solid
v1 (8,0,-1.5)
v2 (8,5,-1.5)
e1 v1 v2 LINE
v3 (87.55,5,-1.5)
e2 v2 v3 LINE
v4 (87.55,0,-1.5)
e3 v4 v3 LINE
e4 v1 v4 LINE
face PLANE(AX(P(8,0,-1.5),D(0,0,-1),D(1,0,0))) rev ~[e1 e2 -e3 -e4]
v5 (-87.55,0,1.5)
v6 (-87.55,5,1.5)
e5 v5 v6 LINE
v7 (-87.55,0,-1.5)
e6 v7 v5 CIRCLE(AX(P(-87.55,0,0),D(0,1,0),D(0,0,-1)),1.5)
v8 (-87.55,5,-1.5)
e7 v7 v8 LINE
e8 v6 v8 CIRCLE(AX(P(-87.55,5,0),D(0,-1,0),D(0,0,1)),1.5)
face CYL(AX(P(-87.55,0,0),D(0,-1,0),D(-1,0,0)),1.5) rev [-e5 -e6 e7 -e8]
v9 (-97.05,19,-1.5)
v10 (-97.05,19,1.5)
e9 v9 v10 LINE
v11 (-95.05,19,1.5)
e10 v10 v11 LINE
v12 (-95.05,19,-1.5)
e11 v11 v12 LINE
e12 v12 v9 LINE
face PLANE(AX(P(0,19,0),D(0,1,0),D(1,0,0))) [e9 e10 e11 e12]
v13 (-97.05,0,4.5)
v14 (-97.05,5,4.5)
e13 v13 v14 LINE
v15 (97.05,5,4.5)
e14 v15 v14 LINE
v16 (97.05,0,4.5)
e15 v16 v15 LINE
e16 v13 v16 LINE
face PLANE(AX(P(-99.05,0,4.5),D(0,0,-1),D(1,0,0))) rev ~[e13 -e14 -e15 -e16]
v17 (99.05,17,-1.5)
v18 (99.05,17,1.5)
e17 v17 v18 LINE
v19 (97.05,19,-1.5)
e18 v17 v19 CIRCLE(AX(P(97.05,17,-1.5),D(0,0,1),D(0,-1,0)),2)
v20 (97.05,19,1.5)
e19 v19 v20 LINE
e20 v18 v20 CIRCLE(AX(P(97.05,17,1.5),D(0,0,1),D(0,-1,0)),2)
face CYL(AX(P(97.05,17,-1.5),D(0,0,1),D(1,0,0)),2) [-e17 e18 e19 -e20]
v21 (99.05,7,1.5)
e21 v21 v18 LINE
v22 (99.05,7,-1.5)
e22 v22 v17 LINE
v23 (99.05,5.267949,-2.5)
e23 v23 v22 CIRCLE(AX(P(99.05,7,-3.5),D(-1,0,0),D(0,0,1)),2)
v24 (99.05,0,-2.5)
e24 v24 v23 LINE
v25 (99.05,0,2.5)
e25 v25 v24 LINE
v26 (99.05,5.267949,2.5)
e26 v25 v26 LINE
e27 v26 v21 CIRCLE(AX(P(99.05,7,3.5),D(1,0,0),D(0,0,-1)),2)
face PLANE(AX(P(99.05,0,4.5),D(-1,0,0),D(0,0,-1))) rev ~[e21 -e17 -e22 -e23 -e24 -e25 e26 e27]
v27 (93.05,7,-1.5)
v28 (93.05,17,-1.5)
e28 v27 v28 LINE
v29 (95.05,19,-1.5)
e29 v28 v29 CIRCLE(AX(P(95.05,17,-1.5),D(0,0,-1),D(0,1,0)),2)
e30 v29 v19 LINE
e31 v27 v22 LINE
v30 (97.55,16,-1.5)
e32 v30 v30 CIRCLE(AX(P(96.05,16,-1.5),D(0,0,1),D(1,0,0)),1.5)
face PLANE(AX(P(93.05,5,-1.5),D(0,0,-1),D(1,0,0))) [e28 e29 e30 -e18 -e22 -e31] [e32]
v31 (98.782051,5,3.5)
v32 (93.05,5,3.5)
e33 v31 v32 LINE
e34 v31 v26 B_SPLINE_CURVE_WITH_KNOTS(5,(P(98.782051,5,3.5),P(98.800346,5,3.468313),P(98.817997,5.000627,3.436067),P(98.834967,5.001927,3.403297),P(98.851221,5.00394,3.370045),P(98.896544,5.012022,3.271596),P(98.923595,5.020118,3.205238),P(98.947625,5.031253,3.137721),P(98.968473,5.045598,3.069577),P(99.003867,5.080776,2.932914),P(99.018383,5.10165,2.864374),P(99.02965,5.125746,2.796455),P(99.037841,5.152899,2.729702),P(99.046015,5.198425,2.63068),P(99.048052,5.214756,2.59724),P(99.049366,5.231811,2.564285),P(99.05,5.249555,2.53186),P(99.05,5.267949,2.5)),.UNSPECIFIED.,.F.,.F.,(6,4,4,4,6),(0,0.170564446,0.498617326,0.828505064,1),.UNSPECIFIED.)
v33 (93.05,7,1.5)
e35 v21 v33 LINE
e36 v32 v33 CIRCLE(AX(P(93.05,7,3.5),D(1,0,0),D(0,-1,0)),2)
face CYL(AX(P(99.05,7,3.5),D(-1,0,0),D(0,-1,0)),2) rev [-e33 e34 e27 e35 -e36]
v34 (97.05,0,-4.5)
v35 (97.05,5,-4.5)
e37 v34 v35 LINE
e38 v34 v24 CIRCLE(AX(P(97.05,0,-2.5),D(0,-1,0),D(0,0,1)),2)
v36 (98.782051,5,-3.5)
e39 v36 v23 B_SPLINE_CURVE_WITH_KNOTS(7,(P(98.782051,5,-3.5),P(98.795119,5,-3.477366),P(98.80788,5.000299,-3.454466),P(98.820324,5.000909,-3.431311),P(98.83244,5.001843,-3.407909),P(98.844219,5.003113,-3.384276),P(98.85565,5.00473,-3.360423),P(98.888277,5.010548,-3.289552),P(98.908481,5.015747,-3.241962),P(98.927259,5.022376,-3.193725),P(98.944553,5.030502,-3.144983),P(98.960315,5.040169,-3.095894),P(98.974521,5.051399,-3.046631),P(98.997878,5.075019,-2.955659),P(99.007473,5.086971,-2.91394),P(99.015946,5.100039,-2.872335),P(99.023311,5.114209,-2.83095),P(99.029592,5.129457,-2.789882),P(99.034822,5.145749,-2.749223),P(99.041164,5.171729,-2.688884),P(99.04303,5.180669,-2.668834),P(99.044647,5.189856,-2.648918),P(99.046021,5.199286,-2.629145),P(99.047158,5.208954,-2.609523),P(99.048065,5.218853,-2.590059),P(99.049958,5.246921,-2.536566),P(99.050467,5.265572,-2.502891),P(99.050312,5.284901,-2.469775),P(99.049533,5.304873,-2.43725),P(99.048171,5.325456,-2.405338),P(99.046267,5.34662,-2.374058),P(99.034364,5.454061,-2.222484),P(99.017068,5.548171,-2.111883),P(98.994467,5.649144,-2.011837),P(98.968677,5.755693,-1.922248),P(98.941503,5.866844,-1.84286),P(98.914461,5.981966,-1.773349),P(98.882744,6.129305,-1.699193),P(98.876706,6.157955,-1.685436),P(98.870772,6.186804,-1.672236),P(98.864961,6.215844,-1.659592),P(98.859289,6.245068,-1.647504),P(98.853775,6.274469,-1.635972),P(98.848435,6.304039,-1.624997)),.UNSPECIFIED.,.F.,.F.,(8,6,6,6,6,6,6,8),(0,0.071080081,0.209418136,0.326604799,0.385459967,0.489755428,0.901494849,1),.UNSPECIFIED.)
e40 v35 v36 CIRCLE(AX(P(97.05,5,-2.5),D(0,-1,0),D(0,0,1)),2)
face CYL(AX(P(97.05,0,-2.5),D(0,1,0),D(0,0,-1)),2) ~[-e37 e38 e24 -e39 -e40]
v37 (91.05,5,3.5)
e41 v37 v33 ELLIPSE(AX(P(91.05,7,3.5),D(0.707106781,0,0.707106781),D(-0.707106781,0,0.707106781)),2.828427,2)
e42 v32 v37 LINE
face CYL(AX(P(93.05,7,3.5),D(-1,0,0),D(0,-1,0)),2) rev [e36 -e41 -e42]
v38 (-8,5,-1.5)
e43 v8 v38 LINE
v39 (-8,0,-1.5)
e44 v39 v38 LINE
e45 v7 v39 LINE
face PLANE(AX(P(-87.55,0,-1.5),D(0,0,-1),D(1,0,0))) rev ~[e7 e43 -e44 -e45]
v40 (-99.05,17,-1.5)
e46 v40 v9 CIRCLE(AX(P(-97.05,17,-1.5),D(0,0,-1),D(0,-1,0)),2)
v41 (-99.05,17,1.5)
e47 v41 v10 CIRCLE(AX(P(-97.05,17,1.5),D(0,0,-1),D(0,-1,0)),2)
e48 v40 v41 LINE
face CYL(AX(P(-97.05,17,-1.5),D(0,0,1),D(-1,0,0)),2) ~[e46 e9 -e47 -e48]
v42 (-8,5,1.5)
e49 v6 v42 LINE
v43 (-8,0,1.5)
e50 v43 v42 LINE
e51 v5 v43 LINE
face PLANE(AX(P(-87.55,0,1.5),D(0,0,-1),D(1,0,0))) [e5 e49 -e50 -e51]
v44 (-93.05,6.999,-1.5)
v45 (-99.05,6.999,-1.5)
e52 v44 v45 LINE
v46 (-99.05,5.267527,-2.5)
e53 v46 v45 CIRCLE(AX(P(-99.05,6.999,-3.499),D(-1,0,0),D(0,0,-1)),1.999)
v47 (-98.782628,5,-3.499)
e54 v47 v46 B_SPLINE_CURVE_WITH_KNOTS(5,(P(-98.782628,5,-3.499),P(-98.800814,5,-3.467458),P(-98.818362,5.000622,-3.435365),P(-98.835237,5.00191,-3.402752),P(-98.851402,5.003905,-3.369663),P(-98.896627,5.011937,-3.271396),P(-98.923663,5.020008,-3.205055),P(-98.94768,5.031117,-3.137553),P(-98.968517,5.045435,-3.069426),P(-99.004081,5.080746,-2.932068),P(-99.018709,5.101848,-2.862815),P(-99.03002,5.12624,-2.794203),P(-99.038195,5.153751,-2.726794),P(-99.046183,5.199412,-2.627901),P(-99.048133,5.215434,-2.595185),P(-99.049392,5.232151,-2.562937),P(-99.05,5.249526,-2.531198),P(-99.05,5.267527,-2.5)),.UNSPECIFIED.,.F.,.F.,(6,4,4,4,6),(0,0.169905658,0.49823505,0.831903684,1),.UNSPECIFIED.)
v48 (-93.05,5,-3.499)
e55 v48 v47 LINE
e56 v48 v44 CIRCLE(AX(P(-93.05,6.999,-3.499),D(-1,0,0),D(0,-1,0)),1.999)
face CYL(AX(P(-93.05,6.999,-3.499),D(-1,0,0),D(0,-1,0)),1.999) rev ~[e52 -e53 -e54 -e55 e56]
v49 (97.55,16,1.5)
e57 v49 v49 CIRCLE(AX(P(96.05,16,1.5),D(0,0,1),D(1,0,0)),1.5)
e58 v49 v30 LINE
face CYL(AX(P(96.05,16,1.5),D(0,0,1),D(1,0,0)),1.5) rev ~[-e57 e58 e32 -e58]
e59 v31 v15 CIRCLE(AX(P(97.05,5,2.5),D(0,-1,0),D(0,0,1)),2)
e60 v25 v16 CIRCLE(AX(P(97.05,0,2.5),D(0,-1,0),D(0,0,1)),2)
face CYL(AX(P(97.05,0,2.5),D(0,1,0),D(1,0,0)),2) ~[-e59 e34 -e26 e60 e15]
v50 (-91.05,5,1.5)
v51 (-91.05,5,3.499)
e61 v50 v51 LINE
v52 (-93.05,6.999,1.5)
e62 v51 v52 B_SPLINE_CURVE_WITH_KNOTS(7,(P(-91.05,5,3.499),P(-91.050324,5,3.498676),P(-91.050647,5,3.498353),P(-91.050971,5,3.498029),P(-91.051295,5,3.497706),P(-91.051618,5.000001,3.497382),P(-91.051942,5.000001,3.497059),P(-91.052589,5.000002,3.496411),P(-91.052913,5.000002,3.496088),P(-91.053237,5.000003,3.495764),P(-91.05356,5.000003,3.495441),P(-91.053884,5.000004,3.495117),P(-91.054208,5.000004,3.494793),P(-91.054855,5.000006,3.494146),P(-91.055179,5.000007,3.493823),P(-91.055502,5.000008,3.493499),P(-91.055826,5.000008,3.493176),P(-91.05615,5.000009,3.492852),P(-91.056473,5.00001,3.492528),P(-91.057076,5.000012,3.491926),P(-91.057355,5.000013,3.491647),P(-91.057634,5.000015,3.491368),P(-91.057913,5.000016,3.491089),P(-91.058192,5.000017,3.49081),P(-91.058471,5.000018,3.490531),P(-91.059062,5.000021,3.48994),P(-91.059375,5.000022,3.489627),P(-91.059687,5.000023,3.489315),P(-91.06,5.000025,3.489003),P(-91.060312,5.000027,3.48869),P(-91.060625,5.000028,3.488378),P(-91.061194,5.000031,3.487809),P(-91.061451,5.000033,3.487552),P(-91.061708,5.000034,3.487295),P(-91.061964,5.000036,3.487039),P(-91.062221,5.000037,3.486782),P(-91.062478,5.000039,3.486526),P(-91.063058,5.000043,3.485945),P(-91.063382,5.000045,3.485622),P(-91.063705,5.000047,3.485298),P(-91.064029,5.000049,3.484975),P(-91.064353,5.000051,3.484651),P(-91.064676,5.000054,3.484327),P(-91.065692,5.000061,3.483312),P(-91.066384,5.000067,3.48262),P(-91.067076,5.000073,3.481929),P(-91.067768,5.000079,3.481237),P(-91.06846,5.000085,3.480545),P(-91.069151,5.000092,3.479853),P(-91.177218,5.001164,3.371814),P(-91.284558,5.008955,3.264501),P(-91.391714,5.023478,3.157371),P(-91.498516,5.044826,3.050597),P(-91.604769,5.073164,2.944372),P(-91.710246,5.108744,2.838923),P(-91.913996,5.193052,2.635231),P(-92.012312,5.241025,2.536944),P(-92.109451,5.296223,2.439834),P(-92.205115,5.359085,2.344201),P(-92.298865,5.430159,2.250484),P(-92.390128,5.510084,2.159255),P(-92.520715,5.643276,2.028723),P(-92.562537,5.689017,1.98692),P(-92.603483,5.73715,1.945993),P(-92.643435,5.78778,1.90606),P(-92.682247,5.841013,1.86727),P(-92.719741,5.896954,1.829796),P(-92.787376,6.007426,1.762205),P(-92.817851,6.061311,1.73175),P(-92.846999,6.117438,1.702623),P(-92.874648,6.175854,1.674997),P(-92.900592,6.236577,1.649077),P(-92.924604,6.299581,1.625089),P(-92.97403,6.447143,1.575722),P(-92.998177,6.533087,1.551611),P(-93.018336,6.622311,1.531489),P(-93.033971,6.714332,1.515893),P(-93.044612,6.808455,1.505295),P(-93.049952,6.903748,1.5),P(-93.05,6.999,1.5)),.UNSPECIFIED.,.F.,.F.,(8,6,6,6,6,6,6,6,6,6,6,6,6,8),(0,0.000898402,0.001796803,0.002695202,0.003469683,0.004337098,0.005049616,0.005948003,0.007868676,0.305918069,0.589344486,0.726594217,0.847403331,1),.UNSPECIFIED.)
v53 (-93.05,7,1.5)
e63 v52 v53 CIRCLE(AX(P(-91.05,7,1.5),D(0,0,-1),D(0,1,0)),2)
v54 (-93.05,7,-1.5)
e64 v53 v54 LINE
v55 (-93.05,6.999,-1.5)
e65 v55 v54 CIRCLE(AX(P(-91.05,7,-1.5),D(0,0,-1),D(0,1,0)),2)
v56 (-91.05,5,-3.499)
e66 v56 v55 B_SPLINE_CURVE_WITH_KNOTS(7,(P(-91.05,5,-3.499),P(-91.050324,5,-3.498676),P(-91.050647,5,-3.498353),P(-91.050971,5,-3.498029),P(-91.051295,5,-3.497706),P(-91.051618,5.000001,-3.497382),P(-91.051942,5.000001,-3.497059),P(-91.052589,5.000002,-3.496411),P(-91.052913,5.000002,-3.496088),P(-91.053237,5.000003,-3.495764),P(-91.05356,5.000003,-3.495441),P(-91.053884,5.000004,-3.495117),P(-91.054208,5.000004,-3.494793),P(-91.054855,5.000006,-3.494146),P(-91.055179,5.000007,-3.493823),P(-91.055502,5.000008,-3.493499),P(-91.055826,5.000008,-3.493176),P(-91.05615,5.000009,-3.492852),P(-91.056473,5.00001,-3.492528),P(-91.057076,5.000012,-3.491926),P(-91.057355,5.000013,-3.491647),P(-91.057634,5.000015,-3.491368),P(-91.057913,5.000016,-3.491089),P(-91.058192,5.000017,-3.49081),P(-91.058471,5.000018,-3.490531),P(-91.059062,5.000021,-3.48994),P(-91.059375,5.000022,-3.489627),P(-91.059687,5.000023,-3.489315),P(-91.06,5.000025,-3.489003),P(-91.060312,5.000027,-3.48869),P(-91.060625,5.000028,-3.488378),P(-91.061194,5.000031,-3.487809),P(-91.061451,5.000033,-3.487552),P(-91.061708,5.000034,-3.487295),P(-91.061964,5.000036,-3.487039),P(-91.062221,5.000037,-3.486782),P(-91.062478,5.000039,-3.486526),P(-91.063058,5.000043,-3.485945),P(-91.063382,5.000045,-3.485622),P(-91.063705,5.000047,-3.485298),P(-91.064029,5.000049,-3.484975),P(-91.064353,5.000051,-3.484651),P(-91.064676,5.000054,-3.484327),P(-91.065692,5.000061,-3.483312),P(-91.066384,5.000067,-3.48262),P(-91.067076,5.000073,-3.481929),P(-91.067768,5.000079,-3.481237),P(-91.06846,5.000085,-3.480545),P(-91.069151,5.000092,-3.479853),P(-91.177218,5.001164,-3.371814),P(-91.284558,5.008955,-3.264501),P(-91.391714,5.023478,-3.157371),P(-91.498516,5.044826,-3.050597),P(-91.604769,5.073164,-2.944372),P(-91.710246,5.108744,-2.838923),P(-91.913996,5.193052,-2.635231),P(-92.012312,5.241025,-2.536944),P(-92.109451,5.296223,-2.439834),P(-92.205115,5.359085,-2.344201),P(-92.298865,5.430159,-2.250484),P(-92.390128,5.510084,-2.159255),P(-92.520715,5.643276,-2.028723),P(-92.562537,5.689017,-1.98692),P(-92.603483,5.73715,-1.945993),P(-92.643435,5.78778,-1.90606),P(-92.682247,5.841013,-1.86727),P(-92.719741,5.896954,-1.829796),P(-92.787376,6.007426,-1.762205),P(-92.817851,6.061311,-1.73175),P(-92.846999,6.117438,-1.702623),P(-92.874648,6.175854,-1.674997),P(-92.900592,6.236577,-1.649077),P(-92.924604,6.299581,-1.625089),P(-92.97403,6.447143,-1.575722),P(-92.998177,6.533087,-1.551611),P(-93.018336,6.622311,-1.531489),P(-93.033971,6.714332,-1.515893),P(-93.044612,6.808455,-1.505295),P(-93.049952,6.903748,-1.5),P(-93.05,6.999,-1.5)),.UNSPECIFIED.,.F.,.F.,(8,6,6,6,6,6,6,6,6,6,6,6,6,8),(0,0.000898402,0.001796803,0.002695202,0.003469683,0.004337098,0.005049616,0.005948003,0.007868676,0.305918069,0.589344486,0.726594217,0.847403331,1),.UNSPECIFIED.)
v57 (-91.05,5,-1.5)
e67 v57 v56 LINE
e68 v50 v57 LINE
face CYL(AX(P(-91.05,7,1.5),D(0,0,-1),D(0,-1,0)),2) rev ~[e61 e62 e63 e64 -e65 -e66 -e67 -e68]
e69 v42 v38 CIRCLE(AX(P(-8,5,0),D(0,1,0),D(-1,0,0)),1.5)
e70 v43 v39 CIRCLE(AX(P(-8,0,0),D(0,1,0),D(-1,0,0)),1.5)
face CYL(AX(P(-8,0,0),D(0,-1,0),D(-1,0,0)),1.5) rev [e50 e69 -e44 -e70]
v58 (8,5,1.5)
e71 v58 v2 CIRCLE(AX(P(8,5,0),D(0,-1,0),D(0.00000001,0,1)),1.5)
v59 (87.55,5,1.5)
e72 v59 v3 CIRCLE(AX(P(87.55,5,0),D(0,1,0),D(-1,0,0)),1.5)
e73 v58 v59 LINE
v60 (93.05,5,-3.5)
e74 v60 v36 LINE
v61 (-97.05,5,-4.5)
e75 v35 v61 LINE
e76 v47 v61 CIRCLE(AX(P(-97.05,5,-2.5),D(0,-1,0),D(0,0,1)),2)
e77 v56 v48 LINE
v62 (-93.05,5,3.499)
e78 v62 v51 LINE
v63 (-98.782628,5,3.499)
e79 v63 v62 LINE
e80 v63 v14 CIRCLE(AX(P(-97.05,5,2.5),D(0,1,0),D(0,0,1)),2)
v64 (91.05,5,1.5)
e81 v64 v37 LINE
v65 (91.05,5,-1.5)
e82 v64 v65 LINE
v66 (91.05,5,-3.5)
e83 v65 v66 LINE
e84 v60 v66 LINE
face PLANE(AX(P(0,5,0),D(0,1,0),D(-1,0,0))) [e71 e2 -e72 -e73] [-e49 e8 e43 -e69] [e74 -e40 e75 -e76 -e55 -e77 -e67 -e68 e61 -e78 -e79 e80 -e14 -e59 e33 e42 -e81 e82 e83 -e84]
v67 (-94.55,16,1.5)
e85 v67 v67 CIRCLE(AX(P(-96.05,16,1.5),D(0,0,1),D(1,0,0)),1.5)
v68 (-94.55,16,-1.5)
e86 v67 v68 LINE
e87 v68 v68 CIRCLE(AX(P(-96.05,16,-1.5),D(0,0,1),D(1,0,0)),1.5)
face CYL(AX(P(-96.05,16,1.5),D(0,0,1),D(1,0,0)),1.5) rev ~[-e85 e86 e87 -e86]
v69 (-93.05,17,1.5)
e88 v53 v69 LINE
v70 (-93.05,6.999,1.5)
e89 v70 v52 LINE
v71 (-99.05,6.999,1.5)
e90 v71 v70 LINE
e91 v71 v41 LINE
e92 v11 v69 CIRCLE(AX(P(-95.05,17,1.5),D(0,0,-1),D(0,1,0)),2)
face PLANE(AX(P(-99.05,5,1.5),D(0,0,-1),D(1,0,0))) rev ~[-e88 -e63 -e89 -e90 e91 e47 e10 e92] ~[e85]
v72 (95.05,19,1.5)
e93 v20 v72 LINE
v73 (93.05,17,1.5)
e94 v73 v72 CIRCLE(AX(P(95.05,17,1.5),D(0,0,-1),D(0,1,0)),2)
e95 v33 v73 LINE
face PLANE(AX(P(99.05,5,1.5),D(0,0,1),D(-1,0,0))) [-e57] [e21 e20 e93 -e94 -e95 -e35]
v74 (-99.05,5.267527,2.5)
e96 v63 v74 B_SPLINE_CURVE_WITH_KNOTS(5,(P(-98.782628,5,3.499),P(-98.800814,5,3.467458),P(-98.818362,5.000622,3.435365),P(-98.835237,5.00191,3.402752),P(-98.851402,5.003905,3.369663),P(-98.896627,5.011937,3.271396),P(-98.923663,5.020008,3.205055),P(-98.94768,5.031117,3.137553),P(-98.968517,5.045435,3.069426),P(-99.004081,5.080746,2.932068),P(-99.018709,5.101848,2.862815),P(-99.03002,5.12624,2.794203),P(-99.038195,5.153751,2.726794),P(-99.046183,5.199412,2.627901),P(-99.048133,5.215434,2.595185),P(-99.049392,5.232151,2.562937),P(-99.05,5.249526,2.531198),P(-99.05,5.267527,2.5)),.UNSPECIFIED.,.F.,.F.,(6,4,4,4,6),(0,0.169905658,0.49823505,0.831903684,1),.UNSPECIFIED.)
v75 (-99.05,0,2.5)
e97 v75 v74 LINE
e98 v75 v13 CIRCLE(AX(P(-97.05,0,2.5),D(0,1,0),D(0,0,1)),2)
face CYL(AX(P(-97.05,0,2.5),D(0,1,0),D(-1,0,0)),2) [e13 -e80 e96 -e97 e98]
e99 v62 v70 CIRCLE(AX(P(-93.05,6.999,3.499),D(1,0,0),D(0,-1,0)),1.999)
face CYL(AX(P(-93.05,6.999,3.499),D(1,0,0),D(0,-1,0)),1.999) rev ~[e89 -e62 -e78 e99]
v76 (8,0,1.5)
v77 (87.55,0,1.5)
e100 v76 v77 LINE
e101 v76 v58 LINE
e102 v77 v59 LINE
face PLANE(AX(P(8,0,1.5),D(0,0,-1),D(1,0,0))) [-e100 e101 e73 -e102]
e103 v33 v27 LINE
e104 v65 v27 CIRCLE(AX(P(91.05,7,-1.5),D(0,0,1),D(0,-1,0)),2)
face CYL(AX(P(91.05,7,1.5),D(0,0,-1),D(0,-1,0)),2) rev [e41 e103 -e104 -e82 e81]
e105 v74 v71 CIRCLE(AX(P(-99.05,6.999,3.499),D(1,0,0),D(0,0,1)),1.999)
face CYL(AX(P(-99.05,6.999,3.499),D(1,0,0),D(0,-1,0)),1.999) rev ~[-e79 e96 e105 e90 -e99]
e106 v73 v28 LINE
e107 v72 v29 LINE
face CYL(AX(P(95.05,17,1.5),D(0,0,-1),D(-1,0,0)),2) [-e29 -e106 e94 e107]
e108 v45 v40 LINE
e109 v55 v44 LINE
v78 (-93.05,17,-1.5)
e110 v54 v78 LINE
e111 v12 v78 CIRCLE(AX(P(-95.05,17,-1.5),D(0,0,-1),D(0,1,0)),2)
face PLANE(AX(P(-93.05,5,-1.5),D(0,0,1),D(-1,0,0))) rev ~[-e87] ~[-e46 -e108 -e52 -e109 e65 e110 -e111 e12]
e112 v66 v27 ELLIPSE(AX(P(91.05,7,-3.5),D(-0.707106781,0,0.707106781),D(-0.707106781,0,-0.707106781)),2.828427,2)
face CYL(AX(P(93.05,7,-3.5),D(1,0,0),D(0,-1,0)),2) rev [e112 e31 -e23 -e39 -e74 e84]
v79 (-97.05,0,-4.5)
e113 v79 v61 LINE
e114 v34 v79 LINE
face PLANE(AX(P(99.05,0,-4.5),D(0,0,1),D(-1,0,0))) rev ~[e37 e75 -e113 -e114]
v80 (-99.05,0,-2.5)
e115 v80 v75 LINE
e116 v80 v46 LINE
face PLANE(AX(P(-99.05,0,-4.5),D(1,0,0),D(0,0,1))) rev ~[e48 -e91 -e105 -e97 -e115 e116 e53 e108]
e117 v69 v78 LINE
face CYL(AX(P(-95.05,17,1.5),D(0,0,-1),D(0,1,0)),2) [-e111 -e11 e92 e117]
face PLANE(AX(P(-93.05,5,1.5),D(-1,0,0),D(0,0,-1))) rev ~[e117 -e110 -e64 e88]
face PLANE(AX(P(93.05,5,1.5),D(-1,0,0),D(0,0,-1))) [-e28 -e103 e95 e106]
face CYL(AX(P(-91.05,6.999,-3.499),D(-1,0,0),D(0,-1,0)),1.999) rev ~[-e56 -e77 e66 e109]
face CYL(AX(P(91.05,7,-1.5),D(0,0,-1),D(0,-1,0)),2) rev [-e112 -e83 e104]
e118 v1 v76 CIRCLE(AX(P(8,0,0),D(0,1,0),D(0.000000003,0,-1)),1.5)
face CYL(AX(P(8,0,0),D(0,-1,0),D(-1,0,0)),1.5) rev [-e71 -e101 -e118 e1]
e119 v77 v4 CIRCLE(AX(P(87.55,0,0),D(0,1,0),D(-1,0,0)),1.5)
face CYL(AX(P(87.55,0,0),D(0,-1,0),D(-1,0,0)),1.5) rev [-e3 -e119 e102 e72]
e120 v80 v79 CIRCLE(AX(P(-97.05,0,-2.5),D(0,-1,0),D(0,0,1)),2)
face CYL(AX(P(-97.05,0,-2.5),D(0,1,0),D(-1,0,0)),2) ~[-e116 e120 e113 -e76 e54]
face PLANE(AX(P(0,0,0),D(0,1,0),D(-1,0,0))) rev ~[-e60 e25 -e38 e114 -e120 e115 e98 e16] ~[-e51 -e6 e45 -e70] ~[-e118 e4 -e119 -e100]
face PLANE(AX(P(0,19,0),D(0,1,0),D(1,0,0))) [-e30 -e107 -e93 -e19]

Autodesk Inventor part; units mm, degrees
ref_plane "YZ Plane" through (0, 0, 0) normal (1, 0, 0) x (0, 1, 0)
ref_plane "XZ Plane" through (0, 0, 0) normal (0, 1, 0) x (-1, 0, 0)
ref_plane "XY Plane" through (0, 0, 0) normal (0, 0, 1) x (1, 0, 0)
sketch "Sketch1" plane through (0, 0, 0) normal (0, 1, 0) x (-1, 0, 0)
  line L0 (99.05, 4.5) -> (-99.05, 4.5)
  line L1 (-99.05, 4.5) -> (-99.05, -4.5)
  line L2 (-99.05, -4.5) -> (99.05, -4.5)
  line L3 (99.05, -4.5) -> (99.05, 4.5)
  line L4 (99.05, 4.5) -> (-99.05, -4.5) construction
  line L5 (-99.05, 4.5) -> (99.05, -4.5) construction
  line L6 (99.05, 0) -> (87.55, 0) construction
  line L7 (-99.05, 0) -> (-87.55, 0) construction
  circle A0 centre (-87.55, 0) radius 1.5
  circle A1 centre (87.55, 0) radius 1.5
  line L8 (87.55, -1.5) -> (-87.55, -1.5)
  line L9 (99.05, 4.5) -> (99.05, 12.375)
  line L10 (99.05, 4.5) -> (106.925, 4.5) construction
  line L11 (99.05, 12.375) -> (94.05, 12.375)
  line L12 (94.05, 12.375) -> (94.05, 20.375)
  line L13 (94.05, 20.375) -> (99.05, 20.375)
  line L14 (99.05, 20.375) -> (99.05, 12.375)
  line L15 (94.05, 12.375) -> (94.05, 4.5)
  line L16 (94.05, 12.375) -> (101.925, 12.375) construction
  line L17 (-99.05, 4.5) -> (-99.05, 12.375)
  line L18 (-99.05, 4.5) -> (-91.175, 4.5) construction
  line L19 (-99.05, 12.375) -> (-94.05, 12.375)
  line L20 (-94.05, 12.375) -> (-94.05, 20.375)
  line L21 (-94.05, 20.375) -> (-99.05, 20.375)
  line L22 (-99.05, 20.375) -> (-99.05, 12.375)
  line L23 (-94.05, 12.375) -> (-94.05, 4.5)
  line L24 (-94.05, 12.375) -> (-86.175, 12.375) construction
  circle A2 centre (0, 0) radius 1.5
  line L25 (0, -1.5) -> (-8, -1.5) construction
  line L26 (0, -1.5) -> (8, -1.5) construction
  circle A3 centre (8, 0) radius 1.5
  circle A4 centre (-8, 0) radius 1.5
  line L27 (96.55, 20.375) -> (96.55, 17.375) construction
  line L28 (-96.55, 20.375) -> (-96.55, 17.375) construction
  circle A5 centre (-96.55, 17.375) radius 1.5
  circle A6 centre (96.55, 17.375) radius 1.5
  line L29 (87.55, 1.5) -> (-87.55, 1.5)
  point P0 (-94.05, 4.5)
  point P1 (8, -1.5)
  point P2 (-8, -1.5)
  point P3 (8.3564, -1.4534)
  point P4 (-7.6436, -1.4608)
  point P5 (-8, 1.5)
  point P6 (8, 1.5)
  dimension "d27" = 3
  dimension "d0" = 198.1
  dimension "d1" = 9
  dimension "d2" = 11.5
  dimension "d3" = 11.5
  dimension "d4" = 3
  dimension "d5" = 3
  dimension "d8" = 7.875
  dimension "d9" = 90
  dimension "d10" = 5
  dimension "d11" = 8
  dimension "d12" = 90
  dimension "d13" = 7.875
  dimension "d14" = 90
  dimension "d15" = 5
  dimension "d16" = 8
  dimension "d17" = 90
  dimension "d28" = 8
  dimension "d29" = 8
  dimension "d30" = 3
  dimension "d31" = 3
  dimension "d32" = 1.5
  dimension "d33" = 8
  dimension "d34" = 8
  dimension "d35" = 1.5
  dimension "d36" = 3
  dimension "d37" = 3
  dimension "d38" = 3
  dimension "d39" = 3
extrude "Extrusion1" add sketch "Sketch1" along normal blind 5 contours L3 L2 L1 L0 | L29 A2 L8 A4 | L29 A3 L8 A2 | A2
sketch "Sketch4" plane through (0, 5, 0) normal (0, 1, 0) x (1, 0, 0)
  line L0 (99.05, -4.5) -> (99.05, 4.5) construction
  line L1 (99.05, 0) -> (109.05, 0) construction
  line L2 (99.05, 0) -> (96.05, 0) construction
  line L3 (99.05, -1.5) -> (93.05, -1.5)
  line L4 (93.05, -1.5) -> (93.05, 1.5)
  line L5 (93.05, 1.5) -> (99.05, 1.5)
  line L6 (99.05, 1.5) -> (99.05, -1.5)
  line L7 (99.05, -1.5) -> (93.05, 1.5) construction
  line L8 (93.05, -1.5) -> (99.05, 1.5) construction
  line L9 (-99.05, 4.5) -> (-99.05, -4.5) construction
  line L10 (-99.05, 0) -> (-93.05, 0) construction
  line L11 (-99.05, -1.5) -> (-93.05, -1.5)
  line L12 (-93.05, -1.5) -> (-93.05, 1.5)
  line L13 (-93.05, 1.5) -> (-99.05, 1.5)
  line L14 (-99.05, 1.5) -> (-99.05, -1.5)
  line L15 (-99.05, -1.5) -> (-93.05, 1.5) construction
  line L16 (-93.05, -1.5) -> (-99.05, 1.5) construction
  point P0 (0, 0)
  point P1 (-96.05, 0)
  dimension "d54" = 3
  dimension "d55" = 6
  dimension "d56" = 3
  dimension "d57" = 6
  dimension "d58" = 6
  dimension "d59" = 3
extrude "Extrusion4" add sketch "Sketch4" along normal blind 14
sketch "Sketch5" plane through (-99.05, 5, 1.5) normal (0, 0, 1) x (1, 0, 0)
  line L0 (6, 14) -> (0, 14) construction
  line L1 (3, 14) -> (3, 11) construction
  circle A0 centre (3, 11) radius 1.5
  line L2 (198.1, 14) -> (192.1, 14) construction
  line L3 (195.1, 14) -> (195.1, 11) construction
  line L4 (195.1, 14) -> (198.1, 14) construction
  circle A1 centre (195.1, 11) radius 1.5
  point P0 (99.05, -5)
  dimension "d62" = 3
  dimension "d63" = 3
  dimension "d64" = 3
  dimension "d65" = 90
  dimension "d66" = 3
extrude "Extrusion5" cut sketch "Sketch5" against normal through all
fillet "Fillet4" radius 2 4 edges at (99.05, 19, 0) (93.05, 19, 0) (-93.05, 19, 0) (-99.05, 19, 0)
fillet "Fillet5" radius 2 10 edges at (-96.05, 5, 1.5) (-96.05, 5, -1.5) (-93.05, 5, 0) (96.05, 5, 1.5) (93.05, 5, 0) (96.05, 5, -1.5) (99.05, 2.5, 4.5) (99.05, 2.5, -4.5) (-99.05, 2.5, 4.5) (-99.05, 2.5, -4.5)
properties part number "Brace_slide_v3"
